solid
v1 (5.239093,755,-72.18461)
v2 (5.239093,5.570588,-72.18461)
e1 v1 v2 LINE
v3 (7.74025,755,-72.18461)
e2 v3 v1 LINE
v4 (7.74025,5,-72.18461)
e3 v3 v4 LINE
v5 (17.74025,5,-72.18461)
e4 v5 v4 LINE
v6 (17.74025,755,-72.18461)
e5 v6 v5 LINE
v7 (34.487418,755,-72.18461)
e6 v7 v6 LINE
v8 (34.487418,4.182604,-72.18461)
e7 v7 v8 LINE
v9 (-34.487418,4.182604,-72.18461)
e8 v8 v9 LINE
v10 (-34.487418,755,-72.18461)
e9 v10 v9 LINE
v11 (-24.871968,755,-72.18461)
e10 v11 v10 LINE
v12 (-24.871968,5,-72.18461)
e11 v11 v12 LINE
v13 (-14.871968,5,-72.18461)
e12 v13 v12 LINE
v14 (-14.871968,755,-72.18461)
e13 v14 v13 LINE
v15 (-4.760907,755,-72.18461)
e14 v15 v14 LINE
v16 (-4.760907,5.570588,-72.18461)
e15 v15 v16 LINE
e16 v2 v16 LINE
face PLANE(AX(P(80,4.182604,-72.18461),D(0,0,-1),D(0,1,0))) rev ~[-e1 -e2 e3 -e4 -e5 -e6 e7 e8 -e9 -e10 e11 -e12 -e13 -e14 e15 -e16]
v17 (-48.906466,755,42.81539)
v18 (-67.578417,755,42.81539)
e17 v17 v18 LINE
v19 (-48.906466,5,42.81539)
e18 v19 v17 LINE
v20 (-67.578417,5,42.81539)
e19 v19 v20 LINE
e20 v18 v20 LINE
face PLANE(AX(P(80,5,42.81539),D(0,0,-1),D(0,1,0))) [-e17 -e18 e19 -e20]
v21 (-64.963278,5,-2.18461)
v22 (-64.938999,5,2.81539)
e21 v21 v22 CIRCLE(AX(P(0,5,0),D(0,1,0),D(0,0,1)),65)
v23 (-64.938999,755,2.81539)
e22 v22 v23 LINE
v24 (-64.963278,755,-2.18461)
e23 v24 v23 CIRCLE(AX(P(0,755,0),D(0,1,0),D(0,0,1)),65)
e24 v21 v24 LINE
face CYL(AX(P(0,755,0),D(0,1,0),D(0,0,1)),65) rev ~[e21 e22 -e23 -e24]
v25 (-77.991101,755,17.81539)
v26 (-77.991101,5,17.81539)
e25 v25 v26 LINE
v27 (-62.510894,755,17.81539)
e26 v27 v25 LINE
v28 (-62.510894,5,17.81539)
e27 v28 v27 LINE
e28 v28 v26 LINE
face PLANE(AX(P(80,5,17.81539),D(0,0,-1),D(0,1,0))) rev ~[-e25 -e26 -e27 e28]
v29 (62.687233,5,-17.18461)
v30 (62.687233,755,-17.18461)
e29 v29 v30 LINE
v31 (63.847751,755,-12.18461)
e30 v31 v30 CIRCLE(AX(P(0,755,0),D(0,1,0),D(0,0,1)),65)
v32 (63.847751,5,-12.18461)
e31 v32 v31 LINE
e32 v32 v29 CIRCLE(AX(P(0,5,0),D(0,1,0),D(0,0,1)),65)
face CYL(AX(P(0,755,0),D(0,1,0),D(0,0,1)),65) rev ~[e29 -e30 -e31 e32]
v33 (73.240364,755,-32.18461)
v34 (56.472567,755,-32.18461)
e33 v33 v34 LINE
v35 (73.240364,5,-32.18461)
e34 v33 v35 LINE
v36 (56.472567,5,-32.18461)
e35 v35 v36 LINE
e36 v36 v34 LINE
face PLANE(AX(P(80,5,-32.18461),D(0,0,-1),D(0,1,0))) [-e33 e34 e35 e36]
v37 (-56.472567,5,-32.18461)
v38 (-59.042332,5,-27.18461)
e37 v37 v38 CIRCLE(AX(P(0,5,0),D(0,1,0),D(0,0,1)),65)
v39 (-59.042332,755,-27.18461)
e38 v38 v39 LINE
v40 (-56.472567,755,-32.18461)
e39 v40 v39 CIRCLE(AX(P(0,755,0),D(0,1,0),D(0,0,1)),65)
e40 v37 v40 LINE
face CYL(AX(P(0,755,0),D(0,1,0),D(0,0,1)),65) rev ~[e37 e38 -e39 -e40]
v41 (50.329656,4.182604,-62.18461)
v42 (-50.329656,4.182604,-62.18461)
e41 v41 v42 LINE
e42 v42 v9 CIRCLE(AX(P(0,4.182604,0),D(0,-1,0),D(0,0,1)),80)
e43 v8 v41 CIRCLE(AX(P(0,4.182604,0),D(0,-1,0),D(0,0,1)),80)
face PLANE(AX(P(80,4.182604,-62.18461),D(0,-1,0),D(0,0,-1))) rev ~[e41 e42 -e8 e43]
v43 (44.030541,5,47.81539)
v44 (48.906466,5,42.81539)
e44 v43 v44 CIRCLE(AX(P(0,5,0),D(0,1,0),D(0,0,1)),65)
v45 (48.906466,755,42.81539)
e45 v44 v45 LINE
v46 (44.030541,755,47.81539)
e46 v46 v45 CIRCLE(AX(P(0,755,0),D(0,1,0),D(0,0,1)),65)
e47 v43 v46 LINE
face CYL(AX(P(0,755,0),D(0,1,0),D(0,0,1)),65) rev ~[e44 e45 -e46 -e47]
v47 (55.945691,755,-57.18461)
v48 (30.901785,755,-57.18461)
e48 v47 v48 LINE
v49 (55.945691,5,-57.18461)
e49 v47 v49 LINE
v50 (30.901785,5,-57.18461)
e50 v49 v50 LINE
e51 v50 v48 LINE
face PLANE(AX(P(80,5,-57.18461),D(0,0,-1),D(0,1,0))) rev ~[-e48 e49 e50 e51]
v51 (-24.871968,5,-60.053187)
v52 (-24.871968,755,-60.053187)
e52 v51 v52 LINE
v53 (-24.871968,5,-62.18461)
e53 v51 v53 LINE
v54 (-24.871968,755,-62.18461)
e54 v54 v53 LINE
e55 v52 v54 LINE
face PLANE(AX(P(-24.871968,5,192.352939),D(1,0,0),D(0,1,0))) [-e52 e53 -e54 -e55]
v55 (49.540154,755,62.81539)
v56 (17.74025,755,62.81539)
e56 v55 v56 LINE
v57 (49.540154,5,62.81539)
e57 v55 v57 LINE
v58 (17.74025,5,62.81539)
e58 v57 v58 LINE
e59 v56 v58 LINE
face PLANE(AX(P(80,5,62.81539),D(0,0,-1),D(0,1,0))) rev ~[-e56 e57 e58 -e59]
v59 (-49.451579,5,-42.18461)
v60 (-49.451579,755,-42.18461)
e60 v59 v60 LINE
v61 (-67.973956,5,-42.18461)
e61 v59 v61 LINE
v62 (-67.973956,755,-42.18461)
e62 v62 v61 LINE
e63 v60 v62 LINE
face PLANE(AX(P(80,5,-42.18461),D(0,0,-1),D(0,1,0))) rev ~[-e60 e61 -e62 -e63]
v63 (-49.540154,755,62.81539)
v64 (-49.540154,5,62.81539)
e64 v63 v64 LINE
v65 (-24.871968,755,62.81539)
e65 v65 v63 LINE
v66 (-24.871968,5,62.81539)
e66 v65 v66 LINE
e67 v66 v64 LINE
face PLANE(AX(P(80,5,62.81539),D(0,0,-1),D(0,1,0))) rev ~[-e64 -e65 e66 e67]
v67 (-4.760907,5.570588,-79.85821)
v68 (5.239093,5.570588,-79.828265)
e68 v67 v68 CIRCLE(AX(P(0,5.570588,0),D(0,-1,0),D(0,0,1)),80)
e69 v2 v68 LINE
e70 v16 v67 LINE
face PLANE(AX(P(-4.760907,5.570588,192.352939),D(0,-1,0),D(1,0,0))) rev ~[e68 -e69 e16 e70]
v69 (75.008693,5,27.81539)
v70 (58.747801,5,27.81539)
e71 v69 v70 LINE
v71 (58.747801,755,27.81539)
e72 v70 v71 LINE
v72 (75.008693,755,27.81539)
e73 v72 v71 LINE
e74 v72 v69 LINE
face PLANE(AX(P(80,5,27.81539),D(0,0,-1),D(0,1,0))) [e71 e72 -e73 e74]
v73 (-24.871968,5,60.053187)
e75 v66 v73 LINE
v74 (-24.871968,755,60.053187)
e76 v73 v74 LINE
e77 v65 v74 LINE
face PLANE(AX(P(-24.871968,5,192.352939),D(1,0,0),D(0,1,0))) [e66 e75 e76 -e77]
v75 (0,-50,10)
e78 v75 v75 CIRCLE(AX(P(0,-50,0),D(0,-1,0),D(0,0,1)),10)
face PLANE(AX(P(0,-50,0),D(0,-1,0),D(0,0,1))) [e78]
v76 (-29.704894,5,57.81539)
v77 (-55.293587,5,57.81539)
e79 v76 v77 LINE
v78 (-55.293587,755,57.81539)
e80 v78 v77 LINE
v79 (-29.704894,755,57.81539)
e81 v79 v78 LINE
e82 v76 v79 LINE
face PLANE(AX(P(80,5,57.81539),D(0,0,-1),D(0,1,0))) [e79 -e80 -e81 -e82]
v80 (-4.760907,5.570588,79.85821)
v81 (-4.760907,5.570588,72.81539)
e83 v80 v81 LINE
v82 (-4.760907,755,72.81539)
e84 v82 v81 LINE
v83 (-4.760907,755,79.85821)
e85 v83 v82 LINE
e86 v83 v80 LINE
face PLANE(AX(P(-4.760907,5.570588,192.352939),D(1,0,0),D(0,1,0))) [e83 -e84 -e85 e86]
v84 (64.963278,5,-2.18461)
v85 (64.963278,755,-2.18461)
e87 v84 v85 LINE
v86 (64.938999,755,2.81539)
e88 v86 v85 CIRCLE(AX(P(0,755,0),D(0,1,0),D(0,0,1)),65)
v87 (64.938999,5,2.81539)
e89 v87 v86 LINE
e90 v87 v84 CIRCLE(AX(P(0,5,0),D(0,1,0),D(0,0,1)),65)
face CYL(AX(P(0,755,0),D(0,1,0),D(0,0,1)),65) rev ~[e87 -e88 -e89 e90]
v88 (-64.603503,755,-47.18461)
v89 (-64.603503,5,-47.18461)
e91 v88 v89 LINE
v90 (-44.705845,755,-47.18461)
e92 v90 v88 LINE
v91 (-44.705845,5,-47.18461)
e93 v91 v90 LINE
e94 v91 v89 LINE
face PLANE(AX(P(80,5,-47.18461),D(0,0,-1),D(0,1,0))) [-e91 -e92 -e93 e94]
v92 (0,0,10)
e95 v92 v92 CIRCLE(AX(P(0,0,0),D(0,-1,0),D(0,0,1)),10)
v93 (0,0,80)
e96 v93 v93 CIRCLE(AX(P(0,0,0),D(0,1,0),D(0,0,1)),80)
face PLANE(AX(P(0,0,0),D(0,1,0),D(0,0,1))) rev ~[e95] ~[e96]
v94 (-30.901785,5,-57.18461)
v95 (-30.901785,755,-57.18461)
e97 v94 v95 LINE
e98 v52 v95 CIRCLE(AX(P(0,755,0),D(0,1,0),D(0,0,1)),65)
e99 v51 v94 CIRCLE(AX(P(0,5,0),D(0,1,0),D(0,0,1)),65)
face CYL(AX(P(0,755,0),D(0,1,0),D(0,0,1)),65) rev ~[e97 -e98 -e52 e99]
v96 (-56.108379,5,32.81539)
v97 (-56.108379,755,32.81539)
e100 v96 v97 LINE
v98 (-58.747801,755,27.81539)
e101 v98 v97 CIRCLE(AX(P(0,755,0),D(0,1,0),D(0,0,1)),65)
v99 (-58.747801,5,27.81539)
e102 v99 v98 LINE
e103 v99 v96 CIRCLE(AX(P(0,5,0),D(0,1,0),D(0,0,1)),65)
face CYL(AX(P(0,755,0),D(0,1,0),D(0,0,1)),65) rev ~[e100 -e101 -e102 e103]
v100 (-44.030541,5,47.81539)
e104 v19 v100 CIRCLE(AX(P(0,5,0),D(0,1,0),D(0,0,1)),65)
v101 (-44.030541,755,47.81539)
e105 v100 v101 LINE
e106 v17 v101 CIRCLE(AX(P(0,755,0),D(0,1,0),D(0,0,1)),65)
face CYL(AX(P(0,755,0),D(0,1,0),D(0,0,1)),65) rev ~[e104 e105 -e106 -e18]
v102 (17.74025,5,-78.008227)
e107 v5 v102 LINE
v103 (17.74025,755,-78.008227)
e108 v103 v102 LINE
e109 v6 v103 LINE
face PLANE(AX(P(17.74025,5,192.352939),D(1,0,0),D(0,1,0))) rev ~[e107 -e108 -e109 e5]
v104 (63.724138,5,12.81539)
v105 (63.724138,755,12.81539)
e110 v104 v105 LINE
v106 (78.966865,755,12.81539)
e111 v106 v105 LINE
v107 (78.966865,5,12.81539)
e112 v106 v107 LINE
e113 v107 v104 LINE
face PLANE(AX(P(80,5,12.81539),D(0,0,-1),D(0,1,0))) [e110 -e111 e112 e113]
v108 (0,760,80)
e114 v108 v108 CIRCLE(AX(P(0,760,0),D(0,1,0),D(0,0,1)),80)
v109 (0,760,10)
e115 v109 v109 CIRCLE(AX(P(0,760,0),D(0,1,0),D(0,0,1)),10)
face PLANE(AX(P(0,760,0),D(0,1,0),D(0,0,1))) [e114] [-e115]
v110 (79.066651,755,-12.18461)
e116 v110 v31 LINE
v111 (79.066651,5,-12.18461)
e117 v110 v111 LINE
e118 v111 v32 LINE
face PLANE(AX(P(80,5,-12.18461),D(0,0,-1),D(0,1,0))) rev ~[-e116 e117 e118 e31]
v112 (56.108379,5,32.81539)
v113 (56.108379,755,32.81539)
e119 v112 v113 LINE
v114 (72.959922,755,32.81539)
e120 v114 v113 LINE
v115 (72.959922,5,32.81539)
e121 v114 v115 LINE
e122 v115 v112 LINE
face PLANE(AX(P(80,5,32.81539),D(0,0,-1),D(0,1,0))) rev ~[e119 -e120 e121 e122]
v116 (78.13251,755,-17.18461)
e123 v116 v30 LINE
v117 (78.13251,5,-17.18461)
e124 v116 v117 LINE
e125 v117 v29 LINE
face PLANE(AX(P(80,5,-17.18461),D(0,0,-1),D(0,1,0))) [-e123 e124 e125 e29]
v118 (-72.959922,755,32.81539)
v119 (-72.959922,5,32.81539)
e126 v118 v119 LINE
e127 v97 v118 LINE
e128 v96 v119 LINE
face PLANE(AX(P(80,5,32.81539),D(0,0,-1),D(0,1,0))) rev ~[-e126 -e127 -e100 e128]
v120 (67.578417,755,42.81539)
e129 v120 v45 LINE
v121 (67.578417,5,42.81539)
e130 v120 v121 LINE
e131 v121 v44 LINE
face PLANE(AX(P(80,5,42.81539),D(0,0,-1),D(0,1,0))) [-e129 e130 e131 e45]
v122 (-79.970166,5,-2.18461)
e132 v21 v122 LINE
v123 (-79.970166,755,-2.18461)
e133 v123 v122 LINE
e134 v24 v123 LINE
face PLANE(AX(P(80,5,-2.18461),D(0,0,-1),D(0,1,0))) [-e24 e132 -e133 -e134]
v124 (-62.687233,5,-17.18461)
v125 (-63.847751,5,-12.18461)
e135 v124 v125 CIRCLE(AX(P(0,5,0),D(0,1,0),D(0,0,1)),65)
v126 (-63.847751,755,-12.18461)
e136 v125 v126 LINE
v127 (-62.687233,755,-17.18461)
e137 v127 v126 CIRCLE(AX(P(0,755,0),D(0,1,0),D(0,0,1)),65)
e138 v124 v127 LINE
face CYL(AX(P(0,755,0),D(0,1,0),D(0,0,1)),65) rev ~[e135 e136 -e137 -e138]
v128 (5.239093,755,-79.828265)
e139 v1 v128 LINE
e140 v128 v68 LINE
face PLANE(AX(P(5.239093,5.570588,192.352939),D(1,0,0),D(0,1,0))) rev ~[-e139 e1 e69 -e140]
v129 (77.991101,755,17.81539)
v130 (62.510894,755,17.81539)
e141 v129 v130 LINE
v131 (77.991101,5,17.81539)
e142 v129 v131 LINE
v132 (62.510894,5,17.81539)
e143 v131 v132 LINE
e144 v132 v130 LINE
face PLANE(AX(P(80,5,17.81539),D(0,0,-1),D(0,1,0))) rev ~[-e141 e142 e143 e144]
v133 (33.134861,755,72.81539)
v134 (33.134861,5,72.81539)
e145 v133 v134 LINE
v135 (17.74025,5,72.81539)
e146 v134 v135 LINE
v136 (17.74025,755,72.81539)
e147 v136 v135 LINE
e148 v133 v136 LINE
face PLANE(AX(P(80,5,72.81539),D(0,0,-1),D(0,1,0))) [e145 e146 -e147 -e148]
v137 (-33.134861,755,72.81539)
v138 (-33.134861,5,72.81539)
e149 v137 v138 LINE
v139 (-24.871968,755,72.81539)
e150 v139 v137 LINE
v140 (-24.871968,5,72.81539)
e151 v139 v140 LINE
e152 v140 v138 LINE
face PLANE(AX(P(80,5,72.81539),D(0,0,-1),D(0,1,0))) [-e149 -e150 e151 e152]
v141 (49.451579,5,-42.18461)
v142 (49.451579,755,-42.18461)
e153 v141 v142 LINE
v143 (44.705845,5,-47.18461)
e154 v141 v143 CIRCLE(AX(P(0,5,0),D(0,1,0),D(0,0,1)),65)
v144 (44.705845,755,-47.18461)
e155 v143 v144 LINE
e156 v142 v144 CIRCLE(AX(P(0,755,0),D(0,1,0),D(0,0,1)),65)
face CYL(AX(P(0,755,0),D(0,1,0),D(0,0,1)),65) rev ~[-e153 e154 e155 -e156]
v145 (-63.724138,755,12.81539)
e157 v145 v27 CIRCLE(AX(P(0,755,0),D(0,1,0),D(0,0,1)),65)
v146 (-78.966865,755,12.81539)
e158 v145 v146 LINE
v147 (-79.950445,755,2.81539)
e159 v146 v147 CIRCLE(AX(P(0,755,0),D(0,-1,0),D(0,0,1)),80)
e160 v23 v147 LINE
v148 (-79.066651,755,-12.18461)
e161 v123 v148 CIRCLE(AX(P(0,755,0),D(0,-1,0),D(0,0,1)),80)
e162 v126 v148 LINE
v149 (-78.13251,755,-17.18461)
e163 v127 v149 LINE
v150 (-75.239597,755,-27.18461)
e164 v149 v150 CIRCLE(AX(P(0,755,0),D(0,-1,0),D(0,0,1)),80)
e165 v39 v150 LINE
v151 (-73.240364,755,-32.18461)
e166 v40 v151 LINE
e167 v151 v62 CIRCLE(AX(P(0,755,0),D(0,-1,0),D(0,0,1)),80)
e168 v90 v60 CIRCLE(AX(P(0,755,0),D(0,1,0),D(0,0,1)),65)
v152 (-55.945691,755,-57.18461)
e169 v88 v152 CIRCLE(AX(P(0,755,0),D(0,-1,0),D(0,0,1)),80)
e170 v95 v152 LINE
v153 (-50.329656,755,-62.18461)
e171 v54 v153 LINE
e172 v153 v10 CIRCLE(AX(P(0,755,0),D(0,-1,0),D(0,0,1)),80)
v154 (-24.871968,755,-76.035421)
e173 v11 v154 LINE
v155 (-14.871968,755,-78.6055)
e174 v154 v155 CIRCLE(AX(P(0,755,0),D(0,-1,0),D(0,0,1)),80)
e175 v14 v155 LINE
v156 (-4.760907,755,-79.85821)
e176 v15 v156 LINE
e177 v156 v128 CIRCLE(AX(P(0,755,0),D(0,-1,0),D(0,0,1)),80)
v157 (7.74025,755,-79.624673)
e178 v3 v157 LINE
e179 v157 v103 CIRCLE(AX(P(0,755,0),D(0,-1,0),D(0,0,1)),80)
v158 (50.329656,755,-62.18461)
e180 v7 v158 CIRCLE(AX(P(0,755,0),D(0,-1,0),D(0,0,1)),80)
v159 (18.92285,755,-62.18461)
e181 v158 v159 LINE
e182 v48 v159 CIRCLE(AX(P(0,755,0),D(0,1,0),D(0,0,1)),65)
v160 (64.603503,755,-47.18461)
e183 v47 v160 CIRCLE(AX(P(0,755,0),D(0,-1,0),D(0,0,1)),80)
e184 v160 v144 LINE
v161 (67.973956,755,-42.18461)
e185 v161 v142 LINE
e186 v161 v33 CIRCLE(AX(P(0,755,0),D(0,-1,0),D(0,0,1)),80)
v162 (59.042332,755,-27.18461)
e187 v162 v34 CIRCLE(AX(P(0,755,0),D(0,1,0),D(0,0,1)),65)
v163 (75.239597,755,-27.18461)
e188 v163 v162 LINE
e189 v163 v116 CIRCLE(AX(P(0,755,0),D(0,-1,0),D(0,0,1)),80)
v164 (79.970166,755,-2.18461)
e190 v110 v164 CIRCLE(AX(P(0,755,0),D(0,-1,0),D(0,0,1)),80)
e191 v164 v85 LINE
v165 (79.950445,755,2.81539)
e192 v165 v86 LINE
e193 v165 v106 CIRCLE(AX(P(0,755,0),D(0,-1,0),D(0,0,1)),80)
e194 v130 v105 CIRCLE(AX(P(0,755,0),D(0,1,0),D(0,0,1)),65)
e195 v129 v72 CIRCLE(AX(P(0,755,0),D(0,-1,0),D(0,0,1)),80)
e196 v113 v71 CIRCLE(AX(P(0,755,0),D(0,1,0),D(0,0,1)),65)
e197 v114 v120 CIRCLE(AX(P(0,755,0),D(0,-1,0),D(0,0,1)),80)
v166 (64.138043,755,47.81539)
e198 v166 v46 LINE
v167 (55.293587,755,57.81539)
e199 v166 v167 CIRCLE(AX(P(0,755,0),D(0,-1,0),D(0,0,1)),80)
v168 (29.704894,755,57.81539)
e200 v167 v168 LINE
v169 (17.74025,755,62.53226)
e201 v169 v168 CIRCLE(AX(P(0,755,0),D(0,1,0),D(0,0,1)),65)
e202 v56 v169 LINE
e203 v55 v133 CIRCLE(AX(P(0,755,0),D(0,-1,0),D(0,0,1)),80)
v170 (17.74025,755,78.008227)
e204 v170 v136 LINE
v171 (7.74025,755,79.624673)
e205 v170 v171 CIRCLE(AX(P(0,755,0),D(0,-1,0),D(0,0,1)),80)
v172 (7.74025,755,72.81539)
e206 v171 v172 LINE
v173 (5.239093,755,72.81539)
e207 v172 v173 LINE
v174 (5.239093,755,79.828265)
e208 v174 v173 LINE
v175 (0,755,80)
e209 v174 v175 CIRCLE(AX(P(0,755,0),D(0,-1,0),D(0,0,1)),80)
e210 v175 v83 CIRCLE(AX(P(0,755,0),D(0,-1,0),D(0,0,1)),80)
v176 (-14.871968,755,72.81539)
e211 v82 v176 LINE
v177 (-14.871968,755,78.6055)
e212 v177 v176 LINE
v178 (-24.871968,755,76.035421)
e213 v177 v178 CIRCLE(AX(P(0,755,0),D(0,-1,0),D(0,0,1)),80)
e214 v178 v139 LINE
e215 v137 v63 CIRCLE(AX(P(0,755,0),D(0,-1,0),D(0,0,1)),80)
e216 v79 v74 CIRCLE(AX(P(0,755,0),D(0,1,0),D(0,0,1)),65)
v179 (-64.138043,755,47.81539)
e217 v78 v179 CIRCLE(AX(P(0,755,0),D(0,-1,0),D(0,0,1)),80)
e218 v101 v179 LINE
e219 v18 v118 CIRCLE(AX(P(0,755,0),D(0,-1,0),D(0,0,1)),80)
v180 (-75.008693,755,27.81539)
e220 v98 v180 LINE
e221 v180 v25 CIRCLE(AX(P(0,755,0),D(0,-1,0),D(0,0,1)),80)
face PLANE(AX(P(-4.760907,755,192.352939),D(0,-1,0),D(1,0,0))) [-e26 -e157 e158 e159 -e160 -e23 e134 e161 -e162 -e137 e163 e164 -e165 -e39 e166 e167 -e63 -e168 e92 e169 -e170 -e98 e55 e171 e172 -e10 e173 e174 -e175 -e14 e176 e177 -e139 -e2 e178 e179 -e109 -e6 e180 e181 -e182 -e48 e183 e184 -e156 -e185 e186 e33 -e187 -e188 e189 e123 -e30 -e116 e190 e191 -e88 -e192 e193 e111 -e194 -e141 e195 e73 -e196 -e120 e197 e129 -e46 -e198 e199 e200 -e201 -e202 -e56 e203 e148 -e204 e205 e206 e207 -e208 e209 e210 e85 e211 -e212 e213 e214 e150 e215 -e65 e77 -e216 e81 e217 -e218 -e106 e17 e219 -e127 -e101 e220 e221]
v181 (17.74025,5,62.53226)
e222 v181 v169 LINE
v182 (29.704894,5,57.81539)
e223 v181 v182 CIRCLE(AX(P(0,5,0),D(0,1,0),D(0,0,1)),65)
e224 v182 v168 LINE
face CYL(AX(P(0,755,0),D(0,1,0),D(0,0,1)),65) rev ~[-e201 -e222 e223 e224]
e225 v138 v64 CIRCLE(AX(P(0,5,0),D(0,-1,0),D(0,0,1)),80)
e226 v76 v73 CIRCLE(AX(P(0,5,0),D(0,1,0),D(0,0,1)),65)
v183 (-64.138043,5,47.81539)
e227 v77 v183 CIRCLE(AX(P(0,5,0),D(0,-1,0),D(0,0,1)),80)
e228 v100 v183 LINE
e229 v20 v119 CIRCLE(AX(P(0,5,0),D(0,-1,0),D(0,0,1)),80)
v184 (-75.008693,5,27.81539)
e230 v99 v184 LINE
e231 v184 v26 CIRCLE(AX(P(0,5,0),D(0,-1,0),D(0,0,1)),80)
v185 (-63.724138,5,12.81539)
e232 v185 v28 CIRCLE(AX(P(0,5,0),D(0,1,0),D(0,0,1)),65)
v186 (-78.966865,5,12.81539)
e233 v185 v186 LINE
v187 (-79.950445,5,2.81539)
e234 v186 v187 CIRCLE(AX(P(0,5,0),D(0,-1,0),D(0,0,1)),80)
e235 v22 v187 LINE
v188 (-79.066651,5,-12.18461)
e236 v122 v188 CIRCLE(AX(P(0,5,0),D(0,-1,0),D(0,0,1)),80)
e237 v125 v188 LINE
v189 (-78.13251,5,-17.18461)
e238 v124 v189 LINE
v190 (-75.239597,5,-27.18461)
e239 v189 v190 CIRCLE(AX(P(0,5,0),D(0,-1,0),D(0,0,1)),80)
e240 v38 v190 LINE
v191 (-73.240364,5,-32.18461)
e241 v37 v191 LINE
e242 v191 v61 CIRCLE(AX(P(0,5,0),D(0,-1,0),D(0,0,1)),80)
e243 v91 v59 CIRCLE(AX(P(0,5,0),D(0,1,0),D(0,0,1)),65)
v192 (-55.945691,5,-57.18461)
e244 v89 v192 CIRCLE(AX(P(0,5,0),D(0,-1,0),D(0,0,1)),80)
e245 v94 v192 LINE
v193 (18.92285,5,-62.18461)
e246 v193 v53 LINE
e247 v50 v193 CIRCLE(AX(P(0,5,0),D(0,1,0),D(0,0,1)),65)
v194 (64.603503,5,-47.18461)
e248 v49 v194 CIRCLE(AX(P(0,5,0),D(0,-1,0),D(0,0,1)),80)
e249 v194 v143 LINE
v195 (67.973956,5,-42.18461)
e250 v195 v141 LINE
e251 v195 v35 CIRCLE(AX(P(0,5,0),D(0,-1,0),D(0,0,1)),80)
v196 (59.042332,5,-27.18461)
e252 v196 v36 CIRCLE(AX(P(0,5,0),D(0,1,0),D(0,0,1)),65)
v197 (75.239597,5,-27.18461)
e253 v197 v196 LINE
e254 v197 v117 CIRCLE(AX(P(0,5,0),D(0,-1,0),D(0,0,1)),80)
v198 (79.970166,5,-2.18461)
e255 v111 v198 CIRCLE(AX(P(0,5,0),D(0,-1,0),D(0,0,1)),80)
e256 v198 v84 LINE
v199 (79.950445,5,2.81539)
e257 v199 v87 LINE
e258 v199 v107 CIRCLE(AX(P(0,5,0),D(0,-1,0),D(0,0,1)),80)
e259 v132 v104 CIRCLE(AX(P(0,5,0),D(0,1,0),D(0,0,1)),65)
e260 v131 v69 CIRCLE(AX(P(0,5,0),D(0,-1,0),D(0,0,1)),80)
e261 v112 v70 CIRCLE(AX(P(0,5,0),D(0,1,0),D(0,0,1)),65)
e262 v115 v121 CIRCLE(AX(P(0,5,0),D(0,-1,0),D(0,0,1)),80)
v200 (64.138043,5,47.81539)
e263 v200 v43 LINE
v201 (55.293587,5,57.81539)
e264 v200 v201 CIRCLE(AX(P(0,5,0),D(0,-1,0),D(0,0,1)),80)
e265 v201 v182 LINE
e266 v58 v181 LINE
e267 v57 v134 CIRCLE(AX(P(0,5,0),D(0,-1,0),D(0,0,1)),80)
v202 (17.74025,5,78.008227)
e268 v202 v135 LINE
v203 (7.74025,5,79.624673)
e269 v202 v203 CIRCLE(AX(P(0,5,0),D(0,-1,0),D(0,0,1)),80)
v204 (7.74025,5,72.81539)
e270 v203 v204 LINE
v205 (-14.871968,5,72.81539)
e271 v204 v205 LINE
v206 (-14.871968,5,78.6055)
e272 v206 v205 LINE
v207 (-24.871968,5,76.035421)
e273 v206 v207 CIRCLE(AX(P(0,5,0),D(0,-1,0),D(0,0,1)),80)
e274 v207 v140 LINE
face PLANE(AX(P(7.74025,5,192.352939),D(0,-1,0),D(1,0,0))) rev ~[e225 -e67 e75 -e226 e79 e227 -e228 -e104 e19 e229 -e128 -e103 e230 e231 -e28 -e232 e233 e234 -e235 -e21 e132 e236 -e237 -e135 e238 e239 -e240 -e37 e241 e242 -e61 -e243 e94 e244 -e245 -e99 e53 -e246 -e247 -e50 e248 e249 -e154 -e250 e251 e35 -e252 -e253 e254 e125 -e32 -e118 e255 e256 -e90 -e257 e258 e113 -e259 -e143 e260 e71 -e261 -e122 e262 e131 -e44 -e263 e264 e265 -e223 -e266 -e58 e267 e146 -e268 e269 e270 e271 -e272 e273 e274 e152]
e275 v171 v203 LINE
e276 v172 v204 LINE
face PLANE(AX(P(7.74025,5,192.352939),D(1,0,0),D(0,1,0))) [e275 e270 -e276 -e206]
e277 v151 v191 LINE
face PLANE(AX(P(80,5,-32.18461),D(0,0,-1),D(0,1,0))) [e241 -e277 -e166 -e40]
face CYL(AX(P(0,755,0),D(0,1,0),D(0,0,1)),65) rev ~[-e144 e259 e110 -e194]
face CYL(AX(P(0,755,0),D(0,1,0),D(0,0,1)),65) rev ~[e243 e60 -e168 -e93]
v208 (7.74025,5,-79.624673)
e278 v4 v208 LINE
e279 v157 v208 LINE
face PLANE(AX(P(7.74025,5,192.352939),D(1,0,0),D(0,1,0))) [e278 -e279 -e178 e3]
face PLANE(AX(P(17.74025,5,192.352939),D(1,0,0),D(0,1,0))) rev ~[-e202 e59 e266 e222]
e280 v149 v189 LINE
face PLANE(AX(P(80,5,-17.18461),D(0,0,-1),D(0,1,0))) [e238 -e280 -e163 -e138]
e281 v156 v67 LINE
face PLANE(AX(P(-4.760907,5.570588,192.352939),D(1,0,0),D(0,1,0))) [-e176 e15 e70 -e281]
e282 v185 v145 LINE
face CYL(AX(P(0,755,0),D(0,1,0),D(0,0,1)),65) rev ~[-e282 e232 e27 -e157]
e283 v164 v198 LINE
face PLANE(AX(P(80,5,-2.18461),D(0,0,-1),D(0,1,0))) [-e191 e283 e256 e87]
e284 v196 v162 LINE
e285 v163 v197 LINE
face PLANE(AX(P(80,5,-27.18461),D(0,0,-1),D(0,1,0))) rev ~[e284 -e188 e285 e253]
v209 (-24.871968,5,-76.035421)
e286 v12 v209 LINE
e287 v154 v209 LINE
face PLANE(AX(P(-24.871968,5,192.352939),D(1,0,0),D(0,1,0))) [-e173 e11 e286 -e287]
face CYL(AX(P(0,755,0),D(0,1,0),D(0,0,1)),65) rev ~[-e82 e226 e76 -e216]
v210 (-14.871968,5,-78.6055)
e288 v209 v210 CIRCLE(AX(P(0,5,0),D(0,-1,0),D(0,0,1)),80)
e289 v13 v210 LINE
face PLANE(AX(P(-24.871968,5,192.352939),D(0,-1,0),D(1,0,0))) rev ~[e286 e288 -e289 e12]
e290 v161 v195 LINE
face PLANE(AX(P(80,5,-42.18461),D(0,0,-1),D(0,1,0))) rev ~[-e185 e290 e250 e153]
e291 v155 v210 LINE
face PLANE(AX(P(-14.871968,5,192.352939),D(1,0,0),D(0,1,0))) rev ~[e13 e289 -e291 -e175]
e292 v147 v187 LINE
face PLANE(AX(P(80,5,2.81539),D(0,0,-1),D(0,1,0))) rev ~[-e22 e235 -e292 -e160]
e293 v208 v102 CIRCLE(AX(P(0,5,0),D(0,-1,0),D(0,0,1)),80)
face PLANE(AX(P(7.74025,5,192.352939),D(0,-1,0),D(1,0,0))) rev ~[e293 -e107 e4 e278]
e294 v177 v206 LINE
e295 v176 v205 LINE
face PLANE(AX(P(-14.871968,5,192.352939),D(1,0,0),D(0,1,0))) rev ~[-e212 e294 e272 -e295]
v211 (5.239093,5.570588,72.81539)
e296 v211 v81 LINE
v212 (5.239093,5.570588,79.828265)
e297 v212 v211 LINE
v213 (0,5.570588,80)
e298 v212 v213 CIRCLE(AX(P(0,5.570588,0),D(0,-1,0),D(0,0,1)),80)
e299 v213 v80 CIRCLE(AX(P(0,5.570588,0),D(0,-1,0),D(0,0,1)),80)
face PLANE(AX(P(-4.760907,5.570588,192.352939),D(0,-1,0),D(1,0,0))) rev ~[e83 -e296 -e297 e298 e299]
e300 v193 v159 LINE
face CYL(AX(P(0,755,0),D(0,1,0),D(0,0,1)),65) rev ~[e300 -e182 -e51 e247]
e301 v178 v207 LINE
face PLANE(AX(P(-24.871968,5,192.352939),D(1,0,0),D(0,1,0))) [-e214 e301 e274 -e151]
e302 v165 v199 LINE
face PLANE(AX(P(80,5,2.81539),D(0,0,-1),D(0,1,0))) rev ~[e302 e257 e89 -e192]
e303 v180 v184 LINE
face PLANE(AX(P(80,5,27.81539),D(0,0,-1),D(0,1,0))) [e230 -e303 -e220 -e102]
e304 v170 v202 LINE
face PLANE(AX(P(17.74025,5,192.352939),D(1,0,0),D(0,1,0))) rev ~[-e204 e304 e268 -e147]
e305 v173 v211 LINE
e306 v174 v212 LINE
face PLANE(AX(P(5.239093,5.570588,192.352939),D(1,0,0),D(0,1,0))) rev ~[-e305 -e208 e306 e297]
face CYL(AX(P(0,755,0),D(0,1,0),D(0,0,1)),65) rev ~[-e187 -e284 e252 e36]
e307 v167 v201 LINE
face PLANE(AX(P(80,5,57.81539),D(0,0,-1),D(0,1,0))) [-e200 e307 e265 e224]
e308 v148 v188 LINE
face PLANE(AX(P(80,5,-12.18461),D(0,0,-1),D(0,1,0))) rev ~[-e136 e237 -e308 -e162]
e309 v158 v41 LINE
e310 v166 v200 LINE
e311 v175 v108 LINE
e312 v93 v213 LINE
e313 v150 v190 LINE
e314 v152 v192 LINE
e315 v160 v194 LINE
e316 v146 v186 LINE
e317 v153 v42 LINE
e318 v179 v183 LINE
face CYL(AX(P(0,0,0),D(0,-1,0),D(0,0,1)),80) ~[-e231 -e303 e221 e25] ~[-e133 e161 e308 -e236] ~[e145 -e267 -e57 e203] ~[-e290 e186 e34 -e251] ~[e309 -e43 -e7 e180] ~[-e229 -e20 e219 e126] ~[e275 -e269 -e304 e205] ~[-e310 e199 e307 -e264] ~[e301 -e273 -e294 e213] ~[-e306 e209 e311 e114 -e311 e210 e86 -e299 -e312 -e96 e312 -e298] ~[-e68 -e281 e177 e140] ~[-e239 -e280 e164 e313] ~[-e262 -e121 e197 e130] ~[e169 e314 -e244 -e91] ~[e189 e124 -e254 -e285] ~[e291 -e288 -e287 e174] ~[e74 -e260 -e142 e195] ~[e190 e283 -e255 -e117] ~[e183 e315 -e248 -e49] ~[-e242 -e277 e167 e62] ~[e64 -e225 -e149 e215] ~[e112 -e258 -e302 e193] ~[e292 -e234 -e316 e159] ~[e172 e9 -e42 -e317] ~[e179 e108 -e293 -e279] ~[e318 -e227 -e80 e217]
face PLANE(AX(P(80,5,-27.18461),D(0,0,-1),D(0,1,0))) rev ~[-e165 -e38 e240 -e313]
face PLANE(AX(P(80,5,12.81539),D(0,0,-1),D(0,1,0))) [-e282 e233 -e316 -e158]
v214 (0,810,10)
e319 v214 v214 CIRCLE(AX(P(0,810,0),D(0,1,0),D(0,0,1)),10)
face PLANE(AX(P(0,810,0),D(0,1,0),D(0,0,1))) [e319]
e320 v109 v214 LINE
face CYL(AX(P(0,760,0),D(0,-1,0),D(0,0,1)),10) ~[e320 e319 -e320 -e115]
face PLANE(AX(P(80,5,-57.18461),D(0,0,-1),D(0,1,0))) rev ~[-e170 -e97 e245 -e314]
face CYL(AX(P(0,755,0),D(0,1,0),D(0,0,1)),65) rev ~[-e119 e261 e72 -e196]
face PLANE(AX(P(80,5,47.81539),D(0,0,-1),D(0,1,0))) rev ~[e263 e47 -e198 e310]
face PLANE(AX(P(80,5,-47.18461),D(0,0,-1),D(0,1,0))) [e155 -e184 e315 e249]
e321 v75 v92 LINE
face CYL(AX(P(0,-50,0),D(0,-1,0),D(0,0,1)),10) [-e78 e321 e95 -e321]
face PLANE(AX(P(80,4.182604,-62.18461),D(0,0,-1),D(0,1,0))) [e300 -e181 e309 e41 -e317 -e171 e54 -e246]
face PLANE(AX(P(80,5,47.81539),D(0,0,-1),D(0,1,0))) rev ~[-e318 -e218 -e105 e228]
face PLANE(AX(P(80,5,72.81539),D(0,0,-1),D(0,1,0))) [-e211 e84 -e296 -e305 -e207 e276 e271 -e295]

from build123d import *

# Parameters (mm, degrees)
SKETCH_1_R          = 80
EXTRUDE_1_DEPTH     = 760
CUT_EXTRUDE_START   = -5
SKETCH_2_R          = 65
CUT_EXTRUDE_1_DEPTH = 750
SKETCH_4_W          = 10
SKETCH_4_H          = 750
SKETCH_4_H_2        = 750.817396449
CUT_EXTRUDE_5_DEPTH = 781.768851838
SKETCH_5_W          = 10
SKETCH_5_H          = 750
SKETCH_5_H_2        = 749.429411824
CUT_EXTRUDE_6_DEPTH = 1100
SKETCH_6_R          = 10
EXTRUDE_2_DEPTH     = 50
EXTRUDE_START       = 50
SKETCH_7_R          = 10
EXTRUDE_3_DEPTH     = 50


with BuildPart() as part:
    # 草图1 → 凸台-拉伸1 (new body)
    with BuildSketch(Plane(origin=(0, 0, 0), x_dir=(1, 0, 0), z_dir=(0, 1, 0))):
        with Locations(Location((0, 0, 0), (0, 0, 270))):
            Circle(SKETCH_1_R)
    extrude(amount=EXTRUDE_1_DEPTH)

    # 草图2 → 切除-拉伸1 (cut)
    with BuildSketch(Plane(origin=(0, 760, 0), x_dir=(1, 0, 0), z_dir=(0, 1, 0)).offset(CUT_EXTRUDE_START)):
        with Locations(Location((0, 0, 0), (0, 0, 270))):
            Circle(SKETCH_2_R)
    extrude(amount=-CUT_EXTRUDE_1_DEPTH, mode=Mode.SUBTRACT)

    # 草图4 → 切除-拉伸5 (cut, through all)
    with BuildSketch(Plane(origin=(80, 0, 0), x_dir=(0, 0, -1), z_dir=(1, 0, 0))):
        with Locations((-67.815389673, 380)):
            Rectangle(SKETCH_4_W, SKETCH_4_H)
        with Locations((-52.815389673, 380)):
            Rectangle(SKETCH_4_W, SKETCH_4_H)
        with Locations((-37.815389673, 380)):
            Rectangle(SKETCH_4_W, SKETCH_4_H)
        with Locations((-7.815389673, 380)):
            Rectangle(SKETCH_4_W, SKETCH_4_H)
        with Locations((22.184610327, 380)):
            Rectangle(SKETCH_4_W, SKETCH_4_H)
        with Locations((52.184610327, 380)):
            Rectangle(SKETCH_4_W, SKETCH_4_H)
        with Locations((7.184610327, 380)):
            Rectangle(SKETCH_4_W, SKETCH_4_H)
        with Locations((37.184610327, 380)):
            Rectangle(SKETCH_4_W, SKETCH_4_H)
        with Locations((-22.815389673, 380)):
            Rectangle(SKETCH_4_W, SKETCH_4_H)
        with Locations((67.184610327, 379.591301776)):
            Rectangle(SKETCH_4_W, SKETCH_4_H_2)
    extrude(amount=-CUT_EXTRUDE_5_DEPTH, mode=Mode.SUBTRACT)

    # 草图5 → 切除-拉伸6 (cut)
    with BuildSketch(Plane.XY.offset(192.352939281)):
        with Locations((-19.871967952, 380)):
            Rectangle(SKETCH_5_W, SKETCH_5_H)
        with Locations((0.239093499, 380.285294088)):
            Rectangle(SKETCH_5_W, SKETCH_5_H_2)
        with Locations((12.740250466, 380)):
            Rectangle(SKETCH_5_W, SKETCH_5_H)
    extrude(amount=-CUT_EXTRUDE_6_DEPTH, mode=Mode.SUBTRACT)

    # 草图6 → 凸台-拉伸2 (add)
    with BuildSketch(Plane(origin=(0, 760, 0), x_dir=(1, 0, 0), z_dir=(0, 1, 0))):
        with Locations(Location((0, 0, 0), (0, 0, 270))):
            Circle(SKETCH_6_R)
    extrude(amount=EXTRUDE_2_DEPTH)

    # 草图7 → 凸台-拉伸3 (add)
    with BuildSketch(Plane.XZ.offset(EXTRUDE_START)):
        with Locations(Location((0, 0, 0), (0, 0, 90))):
            Circle(SKETCH_7_R)
    extrude(amount=-EXTRUDE_3_DEPTH)


solid = part.part
